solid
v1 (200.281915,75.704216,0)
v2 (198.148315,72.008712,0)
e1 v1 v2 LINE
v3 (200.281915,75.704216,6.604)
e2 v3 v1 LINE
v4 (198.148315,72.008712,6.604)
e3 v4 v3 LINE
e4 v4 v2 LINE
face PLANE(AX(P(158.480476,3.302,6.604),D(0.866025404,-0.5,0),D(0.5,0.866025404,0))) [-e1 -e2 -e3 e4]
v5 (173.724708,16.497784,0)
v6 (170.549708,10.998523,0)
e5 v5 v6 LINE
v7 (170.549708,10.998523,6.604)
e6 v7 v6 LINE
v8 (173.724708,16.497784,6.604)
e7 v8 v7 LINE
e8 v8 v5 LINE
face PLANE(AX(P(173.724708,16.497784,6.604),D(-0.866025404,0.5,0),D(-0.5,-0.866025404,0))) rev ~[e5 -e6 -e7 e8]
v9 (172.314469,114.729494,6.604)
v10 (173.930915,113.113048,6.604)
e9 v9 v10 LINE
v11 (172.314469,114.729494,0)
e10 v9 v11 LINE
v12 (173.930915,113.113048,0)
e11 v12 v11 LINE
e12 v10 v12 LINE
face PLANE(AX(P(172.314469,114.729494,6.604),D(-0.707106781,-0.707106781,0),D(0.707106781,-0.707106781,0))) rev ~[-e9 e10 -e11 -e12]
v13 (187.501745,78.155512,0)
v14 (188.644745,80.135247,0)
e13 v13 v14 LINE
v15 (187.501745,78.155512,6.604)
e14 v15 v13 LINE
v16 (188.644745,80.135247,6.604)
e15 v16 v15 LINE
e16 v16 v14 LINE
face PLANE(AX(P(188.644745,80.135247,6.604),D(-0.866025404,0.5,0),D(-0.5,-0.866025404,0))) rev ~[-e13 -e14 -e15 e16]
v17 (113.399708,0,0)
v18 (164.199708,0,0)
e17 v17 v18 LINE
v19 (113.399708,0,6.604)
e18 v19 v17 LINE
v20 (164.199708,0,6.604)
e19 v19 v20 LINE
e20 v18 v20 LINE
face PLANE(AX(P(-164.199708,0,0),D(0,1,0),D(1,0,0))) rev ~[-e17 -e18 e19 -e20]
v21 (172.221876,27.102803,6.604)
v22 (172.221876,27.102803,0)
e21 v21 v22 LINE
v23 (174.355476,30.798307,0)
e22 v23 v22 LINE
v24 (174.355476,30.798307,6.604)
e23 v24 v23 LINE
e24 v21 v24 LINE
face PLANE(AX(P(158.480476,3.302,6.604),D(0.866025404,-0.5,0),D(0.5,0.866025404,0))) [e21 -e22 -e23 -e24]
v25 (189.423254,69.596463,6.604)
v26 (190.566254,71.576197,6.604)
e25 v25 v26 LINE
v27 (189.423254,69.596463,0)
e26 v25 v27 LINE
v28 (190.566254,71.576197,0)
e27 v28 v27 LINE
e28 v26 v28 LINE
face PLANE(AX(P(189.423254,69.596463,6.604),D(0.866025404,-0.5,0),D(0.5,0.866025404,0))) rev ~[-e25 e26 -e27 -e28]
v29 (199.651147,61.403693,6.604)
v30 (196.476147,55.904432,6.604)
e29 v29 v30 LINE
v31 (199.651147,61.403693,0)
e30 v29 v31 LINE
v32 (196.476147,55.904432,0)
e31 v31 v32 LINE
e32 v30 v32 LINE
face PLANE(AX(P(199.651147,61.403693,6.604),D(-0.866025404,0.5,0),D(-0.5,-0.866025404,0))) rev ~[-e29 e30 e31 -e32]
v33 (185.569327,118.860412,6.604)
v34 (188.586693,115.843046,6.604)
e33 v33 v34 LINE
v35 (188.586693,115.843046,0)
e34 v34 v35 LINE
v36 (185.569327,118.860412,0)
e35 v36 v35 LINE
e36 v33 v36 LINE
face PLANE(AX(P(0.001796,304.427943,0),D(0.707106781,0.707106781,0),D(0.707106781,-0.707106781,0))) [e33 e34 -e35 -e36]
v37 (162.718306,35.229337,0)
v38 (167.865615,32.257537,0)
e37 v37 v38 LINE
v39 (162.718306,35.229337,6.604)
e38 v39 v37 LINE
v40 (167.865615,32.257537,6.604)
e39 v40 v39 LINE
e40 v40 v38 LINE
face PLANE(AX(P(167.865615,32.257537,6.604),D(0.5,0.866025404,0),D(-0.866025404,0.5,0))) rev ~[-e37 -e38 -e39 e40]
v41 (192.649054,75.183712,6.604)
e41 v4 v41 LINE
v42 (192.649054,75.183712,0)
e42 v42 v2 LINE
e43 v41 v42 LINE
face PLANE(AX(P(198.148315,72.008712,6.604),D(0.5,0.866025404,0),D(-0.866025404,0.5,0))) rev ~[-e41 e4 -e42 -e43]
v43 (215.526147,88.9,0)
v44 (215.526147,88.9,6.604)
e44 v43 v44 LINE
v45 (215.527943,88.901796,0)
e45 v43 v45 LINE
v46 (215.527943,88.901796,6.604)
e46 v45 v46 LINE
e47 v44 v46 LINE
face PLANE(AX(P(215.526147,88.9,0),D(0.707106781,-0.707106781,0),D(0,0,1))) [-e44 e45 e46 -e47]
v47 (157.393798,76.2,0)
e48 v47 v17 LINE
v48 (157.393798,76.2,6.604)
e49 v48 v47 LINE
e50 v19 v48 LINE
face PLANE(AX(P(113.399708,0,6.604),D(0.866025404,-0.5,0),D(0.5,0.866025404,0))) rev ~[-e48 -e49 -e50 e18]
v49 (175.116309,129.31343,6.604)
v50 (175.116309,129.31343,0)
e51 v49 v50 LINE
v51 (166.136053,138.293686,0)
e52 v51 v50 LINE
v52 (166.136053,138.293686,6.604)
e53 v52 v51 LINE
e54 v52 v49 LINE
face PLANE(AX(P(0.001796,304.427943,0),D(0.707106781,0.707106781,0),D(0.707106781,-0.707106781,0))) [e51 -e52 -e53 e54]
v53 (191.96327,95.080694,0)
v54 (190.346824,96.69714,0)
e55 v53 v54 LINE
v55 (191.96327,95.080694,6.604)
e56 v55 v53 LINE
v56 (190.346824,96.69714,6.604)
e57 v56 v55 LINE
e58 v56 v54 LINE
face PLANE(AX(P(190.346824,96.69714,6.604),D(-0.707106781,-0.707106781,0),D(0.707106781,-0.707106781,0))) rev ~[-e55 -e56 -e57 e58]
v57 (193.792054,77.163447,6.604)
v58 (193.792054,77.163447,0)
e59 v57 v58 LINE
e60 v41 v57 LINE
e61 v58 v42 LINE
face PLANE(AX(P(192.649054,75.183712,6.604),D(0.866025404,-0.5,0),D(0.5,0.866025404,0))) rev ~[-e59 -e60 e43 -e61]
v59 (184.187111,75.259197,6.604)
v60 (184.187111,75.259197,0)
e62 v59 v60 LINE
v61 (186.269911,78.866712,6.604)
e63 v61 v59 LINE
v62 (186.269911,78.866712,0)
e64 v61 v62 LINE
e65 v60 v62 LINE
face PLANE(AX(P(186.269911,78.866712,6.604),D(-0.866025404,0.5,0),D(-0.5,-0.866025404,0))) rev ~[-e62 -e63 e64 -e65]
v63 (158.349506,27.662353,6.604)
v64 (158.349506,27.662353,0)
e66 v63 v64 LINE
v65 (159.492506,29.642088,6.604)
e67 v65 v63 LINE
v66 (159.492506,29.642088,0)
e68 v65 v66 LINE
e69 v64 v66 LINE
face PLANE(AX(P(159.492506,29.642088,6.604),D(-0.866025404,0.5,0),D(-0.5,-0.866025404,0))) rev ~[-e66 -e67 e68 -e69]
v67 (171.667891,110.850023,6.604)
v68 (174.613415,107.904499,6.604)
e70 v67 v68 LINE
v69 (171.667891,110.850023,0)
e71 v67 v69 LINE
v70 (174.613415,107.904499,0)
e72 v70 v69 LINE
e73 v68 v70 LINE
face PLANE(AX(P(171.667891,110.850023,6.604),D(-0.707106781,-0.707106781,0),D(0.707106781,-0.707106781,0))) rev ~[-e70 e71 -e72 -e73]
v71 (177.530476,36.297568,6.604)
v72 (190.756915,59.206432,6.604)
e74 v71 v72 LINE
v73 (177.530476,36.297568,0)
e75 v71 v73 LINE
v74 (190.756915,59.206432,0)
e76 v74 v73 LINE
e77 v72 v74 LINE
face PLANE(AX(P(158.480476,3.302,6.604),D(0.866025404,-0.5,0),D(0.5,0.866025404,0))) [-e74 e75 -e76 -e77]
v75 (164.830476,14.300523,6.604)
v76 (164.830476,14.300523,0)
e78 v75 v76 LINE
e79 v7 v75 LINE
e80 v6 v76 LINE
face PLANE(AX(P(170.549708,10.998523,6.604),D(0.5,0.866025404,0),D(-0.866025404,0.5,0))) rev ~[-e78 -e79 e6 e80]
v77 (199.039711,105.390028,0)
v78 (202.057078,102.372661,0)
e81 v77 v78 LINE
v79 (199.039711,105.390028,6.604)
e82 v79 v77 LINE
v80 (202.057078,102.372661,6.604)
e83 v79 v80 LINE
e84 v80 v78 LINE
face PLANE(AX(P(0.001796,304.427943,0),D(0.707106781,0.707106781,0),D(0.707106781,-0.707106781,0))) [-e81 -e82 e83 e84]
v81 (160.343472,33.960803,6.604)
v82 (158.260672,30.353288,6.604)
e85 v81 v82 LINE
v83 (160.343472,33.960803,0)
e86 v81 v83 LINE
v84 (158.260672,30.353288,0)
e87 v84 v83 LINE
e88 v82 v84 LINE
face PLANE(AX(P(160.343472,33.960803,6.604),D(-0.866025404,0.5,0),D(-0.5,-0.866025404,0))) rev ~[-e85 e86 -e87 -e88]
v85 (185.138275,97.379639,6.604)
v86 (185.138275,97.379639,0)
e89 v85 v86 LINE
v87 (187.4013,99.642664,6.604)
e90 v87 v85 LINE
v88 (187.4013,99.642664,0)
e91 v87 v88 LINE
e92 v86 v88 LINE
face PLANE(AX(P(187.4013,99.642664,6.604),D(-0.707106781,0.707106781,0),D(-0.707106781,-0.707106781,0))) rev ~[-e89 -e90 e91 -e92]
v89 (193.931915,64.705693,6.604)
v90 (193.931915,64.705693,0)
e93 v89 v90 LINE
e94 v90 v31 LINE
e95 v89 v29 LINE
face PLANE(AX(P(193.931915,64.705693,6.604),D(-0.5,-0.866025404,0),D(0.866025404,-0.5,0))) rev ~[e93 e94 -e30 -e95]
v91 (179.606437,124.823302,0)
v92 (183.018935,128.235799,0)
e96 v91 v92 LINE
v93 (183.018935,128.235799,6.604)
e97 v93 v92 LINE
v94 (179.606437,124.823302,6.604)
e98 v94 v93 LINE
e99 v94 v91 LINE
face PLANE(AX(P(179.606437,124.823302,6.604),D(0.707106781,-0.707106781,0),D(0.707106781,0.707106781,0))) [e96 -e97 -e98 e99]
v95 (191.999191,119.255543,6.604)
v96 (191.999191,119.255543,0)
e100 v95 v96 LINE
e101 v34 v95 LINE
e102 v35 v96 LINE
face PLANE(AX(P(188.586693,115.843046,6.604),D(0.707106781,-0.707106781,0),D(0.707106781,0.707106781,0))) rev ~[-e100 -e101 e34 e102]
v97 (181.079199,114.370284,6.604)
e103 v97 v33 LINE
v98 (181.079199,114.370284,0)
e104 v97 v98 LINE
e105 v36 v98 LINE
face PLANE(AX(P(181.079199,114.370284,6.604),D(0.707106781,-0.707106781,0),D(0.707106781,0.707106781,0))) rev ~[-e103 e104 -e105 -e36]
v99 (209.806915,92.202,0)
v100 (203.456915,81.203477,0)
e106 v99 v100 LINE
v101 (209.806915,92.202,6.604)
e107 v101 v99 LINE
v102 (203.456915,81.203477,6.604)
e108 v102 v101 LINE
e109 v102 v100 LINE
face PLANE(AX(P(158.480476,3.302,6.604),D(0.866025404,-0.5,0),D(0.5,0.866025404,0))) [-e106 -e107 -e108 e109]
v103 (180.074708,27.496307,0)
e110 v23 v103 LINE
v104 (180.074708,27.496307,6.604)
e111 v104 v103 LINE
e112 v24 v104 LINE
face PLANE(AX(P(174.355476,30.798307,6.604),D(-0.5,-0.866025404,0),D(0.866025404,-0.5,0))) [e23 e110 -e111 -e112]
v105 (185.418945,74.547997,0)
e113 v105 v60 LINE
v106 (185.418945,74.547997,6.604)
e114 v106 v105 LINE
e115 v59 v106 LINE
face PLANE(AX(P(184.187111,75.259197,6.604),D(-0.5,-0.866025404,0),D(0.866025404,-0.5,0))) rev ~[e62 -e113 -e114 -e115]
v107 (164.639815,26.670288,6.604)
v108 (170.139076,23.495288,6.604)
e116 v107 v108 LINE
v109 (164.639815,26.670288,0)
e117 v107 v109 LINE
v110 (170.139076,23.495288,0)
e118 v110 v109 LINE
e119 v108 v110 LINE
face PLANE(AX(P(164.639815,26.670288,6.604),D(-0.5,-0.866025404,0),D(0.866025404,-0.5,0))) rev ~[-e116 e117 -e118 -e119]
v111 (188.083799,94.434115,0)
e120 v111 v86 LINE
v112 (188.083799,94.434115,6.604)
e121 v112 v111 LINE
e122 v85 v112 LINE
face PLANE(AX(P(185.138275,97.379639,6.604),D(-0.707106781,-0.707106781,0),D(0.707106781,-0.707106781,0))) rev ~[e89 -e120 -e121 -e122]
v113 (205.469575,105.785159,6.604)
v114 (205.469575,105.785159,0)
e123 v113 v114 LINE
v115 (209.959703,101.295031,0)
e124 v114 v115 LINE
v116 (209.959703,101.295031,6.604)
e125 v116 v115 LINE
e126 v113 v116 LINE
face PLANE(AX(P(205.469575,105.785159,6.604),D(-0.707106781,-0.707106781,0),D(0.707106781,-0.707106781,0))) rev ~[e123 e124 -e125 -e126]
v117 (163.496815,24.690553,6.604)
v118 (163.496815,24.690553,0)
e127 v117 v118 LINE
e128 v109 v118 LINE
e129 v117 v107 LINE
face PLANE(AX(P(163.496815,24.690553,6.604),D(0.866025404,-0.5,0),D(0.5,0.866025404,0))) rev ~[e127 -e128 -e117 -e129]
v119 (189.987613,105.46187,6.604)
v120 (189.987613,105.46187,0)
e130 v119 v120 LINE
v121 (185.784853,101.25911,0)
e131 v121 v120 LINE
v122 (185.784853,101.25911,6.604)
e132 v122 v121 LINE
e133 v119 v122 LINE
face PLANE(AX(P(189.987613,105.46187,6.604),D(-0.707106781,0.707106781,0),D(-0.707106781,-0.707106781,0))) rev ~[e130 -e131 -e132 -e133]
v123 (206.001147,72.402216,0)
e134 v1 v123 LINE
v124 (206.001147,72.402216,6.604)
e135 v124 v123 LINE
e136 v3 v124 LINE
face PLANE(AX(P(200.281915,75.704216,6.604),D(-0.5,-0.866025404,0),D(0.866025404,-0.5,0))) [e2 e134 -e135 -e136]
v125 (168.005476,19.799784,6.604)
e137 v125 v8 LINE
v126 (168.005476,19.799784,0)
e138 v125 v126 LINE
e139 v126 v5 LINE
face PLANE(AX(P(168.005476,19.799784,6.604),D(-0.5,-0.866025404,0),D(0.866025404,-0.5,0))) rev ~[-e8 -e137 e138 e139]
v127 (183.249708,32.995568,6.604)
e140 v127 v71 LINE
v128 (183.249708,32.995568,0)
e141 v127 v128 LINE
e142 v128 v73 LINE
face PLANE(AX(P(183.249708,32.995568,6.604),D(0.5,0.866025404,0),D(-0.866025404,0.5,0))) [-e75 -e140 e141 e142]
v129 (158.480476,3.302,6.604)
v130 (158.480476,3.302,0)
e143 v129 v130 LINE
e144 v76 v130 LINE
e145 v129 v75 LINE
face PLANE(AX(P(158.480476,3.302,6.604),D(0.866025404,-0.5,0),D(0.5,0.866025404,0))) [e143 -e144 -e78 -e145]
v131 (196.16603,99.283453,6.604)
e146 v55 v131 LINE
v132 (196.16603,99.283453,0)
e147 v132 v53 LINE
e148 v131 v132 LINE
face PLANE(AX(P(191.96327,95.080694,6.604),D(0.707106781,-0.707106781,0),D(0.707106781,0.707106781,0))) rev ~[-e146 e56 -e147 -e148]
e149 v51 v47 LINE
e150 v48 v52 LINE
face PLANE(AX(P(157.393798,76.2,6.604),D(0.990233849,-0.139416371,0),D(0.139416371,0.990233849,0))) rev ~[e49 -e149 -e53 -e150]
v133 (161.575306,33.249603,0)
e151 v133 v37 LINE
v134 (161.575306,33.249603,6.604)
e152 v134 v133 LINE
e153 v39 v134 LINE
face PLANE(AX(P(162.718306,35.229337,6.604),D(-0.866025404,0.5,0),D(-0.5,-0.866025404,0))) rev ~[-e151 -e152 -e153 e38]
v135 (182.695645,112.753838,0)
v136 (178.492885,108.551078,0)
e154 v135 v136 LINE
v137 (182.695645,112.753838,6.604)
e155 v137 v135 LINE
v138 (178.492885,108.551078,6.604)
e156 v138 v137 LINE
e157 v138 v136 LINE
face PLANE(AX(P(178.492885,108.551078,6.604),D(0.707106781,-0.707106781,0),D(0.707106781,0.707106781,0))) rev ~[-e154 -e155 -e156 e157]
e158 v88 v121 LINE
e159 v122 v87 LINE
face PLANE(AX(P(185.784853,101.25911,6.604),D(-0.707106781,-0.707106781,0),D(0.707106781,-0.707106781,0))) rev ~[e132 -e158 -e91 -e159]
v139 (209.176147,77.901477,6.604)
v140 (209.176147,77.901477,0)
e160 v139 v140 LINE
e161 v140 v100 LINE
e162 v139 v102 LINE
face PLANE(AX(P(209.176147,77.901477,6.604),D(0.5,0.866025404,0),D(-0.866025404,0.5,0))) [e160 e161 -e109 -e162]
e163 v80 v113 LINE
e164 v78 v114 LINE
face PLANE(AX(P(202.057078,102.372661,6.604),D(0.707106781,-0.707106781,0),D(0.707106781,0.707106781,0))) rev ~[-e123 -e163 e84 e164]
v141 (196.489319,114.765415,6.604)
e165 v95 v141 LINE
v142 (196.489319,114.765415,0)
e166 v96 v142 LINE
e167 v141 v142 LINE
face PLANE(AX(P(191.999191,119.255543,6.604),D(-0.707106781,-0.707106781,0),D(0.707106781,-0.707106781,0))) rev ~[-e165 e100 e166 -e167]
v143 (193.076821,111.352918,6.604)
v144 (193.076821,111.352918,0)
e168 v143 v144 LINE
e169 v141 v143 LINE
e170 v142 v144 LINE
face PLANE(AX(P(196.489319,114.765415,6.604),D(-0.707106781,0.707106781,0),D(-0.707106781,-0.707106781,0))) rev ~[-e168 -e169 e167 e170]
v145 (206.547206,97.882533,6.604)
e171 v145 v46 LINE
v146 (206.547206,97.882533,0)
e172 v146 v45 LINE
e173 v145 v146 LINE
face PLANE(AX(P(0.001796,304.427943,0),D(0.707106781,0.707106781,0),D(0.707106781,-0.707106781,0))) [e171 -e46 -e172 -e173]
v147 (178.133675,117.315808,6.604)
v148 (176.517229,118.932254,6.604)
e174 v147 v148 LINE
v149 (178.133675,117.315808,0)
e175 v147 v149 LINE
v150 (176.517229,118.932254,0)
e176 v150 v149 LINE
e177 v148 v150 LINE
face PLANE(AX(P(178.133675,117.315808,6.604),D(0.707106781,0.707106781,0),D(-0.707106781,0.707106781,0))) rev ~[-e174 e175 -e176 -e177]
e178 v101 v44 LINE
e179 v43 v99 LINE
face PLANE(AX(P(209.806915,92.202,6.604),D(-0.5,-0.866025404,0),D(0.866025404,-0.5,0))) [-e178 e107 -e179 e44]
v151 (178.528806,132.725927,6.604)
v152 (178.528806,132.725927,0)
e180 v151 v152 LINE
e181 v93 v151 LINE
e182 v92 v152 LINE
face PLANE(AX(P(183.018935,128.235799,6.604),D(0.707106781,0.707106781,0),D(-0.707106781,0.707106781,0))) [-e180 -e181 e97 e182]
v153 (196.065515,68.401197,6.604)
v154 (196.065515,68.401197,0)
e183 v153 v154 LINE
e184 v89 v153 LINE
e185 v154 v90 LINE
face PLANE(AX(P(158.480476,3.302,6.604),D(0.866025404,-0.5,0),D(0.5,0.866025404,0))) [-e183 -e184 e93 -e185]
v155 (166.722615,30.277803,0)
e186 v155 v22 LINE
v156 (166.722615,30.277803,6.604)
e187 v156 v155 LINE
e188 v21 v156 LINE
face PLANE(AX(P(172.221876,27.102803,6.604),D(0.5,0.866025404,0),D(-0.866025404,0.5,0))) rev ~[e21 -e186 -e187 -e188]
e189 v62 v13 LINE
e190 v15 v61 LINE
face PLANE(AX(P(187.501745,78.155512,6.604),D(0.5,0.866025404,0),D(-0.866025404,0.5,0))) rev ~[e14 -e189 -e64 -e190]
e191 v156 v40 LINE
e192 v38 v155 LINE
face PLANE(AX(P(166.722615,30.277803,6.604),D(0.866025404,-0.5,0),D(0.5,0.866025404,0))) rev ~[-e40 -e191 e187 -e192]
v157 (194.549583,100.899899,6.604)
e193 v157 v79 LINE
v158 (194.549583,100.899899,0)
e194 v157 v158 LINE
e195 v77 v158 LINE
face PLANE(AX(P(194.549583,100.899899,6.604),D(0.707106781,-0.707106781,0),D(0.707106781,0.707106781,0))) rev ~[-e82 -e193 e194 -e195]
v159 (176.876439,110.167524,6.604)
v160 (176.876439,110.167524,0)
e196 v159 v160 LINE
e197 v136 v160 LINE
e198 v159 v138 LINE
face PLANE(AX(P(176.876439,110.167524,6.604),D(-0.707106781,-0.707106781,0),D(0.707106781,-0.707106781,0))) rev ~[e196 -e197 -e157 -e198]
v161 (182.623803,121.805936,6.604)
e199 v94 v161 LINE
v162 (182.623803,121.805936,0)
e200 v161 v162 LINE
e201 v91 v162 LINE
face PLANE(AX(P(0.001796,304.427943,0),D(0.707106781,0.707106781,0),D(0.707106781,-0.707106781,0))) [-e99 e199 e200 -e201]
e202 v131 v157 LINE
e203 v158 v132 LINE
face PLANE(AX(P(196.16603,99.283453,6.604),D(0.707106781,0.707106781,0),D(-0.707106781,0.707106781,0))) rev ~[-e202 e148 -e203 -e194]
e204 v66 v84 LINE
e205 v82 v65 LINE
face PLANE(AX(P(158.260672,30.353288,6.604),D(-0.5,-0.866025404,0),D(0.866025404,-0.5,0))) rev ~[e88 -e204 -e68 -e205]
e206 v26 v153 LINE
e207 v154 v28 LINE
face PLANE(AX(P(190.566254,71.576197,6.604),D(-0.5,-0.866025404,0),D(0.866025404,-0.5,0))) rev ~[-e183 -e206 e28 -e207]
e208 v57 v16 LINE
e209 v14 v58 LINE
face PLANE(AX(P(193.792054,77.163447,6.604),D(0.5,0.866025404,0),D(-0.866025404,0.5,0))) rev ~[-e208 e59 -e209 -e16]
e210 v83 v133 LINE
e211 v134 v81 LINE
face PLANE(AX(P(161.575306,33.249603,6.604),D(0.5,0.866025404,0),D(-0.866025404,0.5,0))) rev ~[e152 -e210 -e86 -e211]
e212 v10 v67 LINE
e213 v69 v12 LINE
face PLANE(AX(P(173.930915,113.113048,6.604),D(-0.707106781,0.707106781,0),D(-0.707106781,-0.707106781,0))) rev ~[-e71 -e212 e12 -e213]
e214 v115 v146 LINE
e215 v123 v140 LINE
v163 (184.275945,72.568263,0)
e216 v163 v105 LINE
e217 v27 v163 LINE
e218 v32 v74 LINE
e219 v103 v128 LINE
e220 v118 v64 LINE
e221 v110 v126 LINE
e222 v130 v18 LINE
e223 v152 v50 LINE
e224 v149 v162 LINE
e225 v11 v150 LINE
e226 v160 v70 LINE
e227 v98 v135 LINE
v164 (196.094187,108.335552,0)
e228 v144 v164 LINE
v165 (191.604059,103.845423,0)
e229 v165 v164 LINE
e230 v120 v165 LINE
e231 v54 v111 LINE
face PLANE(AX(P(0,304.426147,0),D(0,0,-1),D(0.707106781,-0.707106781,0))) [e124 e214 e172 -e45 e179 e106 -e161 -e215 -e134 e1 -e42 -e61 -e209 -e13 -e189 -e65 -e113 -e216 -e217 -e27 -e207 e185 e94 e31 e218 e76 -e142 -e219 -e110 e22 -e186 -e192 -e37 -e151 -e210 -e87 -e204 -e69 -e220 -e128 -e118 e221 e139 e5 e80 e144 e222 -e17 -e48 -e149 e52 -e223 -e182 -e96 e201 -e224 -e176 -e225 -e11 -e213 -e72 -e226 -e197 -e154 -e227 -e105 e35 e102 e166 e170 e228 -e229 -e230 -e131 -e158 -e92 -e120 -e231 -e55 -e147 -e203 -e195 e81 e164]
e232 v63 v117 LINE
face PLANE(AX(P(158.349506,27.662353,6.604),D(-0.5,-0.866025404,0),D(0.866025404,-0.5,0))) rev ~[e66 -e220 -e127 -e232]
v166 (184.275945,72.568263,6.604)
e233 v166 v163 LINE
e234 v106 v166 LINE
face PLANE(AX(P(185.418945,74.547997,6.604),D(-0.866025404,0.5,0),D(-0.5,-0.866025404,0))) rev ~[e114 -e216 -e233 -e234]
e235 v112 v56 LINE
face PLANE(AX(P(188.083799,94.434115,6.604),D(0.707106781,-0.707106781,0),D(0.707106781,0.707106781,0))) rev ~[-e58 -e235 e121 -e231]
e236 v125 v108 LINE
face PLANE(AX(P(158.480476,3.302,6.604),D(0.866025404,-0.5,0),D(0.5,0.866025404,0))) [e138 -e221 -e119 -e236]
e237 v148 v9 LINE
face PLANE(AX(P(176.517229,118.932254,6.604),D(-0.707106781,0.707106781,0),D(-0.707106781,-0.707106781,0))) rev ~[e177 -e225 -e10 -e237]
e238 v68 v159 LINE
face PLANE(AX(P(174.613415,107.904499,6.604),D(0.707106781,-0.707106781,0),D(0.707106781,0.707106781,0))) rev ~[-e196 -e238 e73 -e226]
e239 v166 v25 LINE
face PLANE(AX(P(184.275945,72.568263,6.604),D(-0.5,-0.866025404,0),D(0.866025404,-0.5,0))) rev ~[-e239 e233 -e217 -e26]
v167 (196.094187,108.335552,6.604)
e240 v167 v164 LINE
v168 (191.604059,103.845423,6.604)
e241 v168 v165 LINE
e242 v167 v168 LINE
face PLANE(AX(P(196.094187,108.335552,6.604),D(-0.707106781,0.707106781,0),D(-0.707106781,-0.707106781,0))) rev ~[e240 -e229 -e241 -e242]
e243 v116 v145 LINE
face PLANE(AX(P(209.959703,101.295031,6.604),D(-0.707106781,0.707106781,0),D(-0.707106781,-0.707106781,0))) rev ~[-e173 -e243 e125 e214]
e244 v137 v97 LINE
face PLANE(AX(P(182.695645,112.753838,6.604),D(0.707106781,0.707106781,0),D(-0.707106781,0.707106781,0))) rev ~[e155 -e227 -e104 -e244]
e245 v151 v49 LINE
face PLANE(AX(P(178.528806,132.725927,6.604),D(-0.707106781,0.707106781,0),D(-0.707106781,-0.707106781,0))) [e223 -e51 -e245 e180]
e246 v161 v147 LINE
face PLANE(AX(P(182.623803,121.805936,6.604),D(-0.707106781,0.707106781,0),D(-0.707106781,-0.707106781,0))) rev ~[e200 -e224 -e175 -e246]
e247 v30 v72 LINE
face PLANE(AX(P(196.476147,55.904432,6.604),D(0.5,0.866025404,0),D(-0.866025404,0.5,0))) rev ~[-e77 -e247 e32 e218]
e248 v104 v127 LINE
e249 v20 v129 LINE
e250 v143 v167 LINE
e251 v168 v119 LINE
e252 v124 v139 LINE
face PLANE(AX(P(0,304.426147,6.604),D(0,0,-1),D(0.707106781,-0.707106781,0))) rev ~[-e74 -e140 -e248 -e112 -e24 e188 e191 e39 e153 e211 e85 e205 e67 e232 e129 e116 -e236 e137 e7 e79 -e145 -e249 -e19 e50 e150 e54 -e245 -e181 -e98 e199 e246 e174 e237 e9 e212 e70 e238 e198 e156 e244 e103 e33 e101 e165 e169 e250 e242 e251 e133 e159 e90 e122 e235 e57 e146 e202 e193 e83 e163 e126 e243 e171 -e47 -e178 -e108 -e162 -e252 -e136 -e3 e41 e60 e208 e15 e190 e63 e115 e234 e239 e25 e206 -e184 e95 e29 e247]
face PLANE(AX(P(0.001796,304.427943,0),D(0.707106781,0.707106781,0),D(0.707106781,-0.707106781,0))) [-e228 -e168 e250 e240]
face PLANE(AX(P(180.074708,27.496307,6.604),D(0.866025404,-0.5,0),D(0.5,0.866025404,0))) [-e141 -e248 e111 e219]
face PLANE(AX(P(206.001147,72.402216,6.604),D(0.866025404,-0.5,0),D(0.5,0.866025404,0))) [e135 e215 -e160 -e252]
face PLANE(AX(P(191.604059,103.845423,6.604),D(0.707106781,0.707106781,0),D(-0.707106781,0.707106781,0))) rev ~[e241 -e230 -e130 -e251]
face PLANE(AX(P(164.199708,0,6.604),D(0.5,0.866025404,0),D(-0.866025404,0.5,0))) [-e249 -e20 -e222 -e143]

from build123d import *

# Parameters (mm, degrees)
BOSS_EXTRUDE1_DEPTH = 6.604
MOVE_FACE2_BY       = 0.00254
CUT_EXTRUDE1_DEPTH  = 374.058010856
CUT_EXTRUDE2_DEPTH  = 257.166060573
CUT_EXTRUDE3_DEPTH  = 257.166060573
BOSS_EXTRUDE2_DEPTH = 6.604


with BuildPart() as part:
    # Sketch1 → Boss-Extrude1 (new body)
    with BuildSketch(Plane.XY):
        Polygon((0, 304.426146906), (215.526146906, 88.9), (164.199707975, 0), (0, 0), (-164.199707975, 0), (-215.526146906, 88.9), align=None)
    extrude(amount=BOSS_EXTRUDE1_DEPTH)

    # Move Face2: a face moved outward by 0.00254
    extrude(part.faces().sort_by_distance((107.763073453, 196.663073453, 3.302))[0], amount=MOVE_FACE2_BY, dir=(0.707106781, 0.707106781, 0))

    # Sketch2 → Cut-Extrude1 (cut, through all)
    with BuildSketch(Plane.XY.offset(6.604)):
        Polygon((113.399707975, 0), (157.393798487, 76.2), (166.136053041, 138.293685968), (0.001796051, 304.427942957), (-215.526146906, 88.9), (-164.199707975, 0), align=None)
    extrude(amount=-CUT_EXTRUDE1_DEPTH, mode=Mode.SUBTRACT)

    # Sketch3 → Cut-Extrude2 (cut, through all)
    with BuildSketch(Plane.XY.offset(6.604)):
        Polygon((158.480476208, 3.302), (209.806915139, 92.202), (215.526146906, 88.9), (164.199707975, 0), align=None)
    extrude(amount=-CUT_EXTRUDE2_DEPTH, mode=Mode.SUBTRACT)

    # Sketch5 → Cut-Extrude3 (cut, through all)
    with BuildSketch(Plane.XY.offset(6.604)):
        Polygon((182.623803279, 121.805935729), (178.133675218, 117.315807669), (176.517229116, 118.932253771), (172.314469252, 114.729493906), (173.930915354, 113.113047804), (171.667890811, 110.850023262), (174.613414819, 107.904499254), (176.876439361, 110.167523796), (178.492885463, 108.551077695), (182.695645328, 112.753837559), (181.079199226, 114.370283661), (185.569327287, 118.860411722), align=None)
        Polygon((194.549583408, 100.899899479), (199.039711468, 105.39002754), (196.09418746, 108.335551548), (191.6040594, 103.845423487), (189.987613298, 105.461869589), (185.784853433, 101.259109724), (187.401299535, 99.642663622), (185.138274993, 97.37963908), (188.083799, 94.434115072), (190.346823543, 96.697139615), (191.963269645, 95.080693513), (196.166029509, 99.283453378), align=None)
        Polygon((198.148315139, 72.008712455), (192.649053825, 75.183712455), (193.792053825, 77.163446528), (188.644745235, 80.135246528), (187.501745235, 78.155512455), (186.269910701, 78.866712455), (184.187110701, 75.259197033), (185.418945235, 74.547997033), (184.275945235, 72.56826296), (189.423253825, 69.59646296), (190.566253825, 71.576197033), (196.065515139, 68.401197033), align=None)
        Polygon((172.221876208, 27.102802967), (166.722614894, 30.277802967), (167.865614894, 32.25753704), (162.718306304, 35.22933704), (161.575306304, 33.249602967), (160.34347177, 33.960802967), (158.26067177, 30.353287545), (159.492506304, 29.642087545), (158.349506304, 27.662353472), (163.496814894, 24.690553472), (164.639814894, 26.670287545), (170.139076208, 23.495287545), align=None)
    extrude(amount=-CUT_EXTRUDE3_DEPTH, mode=Mode.SUBTRACT)

    # Sketch6 → Boss-Extrude2 (add)
    with BuildSketch(Plane.XY.offset(6.604)):
        Polygon((178.528806488, 132.725927173), (175.116309162, 129.313429847), (179.606437222, 124.823301786), (183.018934548, 128.235799112), align=None)
        Polygon((188.586693343, 115.843045665), (191.999190669, 119.255542991), (196.48931873, 114.76541493), (193.076821404, 111.352917604), align=None)
        Polygon((205.469574851, 105.785158809), (209.959702911, 101.295030749), (206.547205585, 97.882533423), (202.057077525, 102.372661483), align=None)
        Polygon((209.176146906, 77.901477372), (203.456915139, 81.203477372), (200.281915139, 75.704216058), (206.001146906, 72.402216058), align=None)
        Polygon((193.931915139, 64.70569343), (199.651146906, 61.40369343), (196.476146906, 55.904432116), (190.756915139, 59.206432116), align=None)
        Polygon((183.249707975, 32.995567884), (177.530476208, 36.297567884), (174.355476208, 30.79830657), (180.074707975, 27.49630657), align=None)
        Polygon((168.005476208, 19.799783942), (173.724707975, 16.497783942), (170.549707975, 10.998522628), (164.830476208, 14.300522628), align=None)
    extrude(amount=-BOSS_EXTRUDE2_DEPTH)


solid = part.part
